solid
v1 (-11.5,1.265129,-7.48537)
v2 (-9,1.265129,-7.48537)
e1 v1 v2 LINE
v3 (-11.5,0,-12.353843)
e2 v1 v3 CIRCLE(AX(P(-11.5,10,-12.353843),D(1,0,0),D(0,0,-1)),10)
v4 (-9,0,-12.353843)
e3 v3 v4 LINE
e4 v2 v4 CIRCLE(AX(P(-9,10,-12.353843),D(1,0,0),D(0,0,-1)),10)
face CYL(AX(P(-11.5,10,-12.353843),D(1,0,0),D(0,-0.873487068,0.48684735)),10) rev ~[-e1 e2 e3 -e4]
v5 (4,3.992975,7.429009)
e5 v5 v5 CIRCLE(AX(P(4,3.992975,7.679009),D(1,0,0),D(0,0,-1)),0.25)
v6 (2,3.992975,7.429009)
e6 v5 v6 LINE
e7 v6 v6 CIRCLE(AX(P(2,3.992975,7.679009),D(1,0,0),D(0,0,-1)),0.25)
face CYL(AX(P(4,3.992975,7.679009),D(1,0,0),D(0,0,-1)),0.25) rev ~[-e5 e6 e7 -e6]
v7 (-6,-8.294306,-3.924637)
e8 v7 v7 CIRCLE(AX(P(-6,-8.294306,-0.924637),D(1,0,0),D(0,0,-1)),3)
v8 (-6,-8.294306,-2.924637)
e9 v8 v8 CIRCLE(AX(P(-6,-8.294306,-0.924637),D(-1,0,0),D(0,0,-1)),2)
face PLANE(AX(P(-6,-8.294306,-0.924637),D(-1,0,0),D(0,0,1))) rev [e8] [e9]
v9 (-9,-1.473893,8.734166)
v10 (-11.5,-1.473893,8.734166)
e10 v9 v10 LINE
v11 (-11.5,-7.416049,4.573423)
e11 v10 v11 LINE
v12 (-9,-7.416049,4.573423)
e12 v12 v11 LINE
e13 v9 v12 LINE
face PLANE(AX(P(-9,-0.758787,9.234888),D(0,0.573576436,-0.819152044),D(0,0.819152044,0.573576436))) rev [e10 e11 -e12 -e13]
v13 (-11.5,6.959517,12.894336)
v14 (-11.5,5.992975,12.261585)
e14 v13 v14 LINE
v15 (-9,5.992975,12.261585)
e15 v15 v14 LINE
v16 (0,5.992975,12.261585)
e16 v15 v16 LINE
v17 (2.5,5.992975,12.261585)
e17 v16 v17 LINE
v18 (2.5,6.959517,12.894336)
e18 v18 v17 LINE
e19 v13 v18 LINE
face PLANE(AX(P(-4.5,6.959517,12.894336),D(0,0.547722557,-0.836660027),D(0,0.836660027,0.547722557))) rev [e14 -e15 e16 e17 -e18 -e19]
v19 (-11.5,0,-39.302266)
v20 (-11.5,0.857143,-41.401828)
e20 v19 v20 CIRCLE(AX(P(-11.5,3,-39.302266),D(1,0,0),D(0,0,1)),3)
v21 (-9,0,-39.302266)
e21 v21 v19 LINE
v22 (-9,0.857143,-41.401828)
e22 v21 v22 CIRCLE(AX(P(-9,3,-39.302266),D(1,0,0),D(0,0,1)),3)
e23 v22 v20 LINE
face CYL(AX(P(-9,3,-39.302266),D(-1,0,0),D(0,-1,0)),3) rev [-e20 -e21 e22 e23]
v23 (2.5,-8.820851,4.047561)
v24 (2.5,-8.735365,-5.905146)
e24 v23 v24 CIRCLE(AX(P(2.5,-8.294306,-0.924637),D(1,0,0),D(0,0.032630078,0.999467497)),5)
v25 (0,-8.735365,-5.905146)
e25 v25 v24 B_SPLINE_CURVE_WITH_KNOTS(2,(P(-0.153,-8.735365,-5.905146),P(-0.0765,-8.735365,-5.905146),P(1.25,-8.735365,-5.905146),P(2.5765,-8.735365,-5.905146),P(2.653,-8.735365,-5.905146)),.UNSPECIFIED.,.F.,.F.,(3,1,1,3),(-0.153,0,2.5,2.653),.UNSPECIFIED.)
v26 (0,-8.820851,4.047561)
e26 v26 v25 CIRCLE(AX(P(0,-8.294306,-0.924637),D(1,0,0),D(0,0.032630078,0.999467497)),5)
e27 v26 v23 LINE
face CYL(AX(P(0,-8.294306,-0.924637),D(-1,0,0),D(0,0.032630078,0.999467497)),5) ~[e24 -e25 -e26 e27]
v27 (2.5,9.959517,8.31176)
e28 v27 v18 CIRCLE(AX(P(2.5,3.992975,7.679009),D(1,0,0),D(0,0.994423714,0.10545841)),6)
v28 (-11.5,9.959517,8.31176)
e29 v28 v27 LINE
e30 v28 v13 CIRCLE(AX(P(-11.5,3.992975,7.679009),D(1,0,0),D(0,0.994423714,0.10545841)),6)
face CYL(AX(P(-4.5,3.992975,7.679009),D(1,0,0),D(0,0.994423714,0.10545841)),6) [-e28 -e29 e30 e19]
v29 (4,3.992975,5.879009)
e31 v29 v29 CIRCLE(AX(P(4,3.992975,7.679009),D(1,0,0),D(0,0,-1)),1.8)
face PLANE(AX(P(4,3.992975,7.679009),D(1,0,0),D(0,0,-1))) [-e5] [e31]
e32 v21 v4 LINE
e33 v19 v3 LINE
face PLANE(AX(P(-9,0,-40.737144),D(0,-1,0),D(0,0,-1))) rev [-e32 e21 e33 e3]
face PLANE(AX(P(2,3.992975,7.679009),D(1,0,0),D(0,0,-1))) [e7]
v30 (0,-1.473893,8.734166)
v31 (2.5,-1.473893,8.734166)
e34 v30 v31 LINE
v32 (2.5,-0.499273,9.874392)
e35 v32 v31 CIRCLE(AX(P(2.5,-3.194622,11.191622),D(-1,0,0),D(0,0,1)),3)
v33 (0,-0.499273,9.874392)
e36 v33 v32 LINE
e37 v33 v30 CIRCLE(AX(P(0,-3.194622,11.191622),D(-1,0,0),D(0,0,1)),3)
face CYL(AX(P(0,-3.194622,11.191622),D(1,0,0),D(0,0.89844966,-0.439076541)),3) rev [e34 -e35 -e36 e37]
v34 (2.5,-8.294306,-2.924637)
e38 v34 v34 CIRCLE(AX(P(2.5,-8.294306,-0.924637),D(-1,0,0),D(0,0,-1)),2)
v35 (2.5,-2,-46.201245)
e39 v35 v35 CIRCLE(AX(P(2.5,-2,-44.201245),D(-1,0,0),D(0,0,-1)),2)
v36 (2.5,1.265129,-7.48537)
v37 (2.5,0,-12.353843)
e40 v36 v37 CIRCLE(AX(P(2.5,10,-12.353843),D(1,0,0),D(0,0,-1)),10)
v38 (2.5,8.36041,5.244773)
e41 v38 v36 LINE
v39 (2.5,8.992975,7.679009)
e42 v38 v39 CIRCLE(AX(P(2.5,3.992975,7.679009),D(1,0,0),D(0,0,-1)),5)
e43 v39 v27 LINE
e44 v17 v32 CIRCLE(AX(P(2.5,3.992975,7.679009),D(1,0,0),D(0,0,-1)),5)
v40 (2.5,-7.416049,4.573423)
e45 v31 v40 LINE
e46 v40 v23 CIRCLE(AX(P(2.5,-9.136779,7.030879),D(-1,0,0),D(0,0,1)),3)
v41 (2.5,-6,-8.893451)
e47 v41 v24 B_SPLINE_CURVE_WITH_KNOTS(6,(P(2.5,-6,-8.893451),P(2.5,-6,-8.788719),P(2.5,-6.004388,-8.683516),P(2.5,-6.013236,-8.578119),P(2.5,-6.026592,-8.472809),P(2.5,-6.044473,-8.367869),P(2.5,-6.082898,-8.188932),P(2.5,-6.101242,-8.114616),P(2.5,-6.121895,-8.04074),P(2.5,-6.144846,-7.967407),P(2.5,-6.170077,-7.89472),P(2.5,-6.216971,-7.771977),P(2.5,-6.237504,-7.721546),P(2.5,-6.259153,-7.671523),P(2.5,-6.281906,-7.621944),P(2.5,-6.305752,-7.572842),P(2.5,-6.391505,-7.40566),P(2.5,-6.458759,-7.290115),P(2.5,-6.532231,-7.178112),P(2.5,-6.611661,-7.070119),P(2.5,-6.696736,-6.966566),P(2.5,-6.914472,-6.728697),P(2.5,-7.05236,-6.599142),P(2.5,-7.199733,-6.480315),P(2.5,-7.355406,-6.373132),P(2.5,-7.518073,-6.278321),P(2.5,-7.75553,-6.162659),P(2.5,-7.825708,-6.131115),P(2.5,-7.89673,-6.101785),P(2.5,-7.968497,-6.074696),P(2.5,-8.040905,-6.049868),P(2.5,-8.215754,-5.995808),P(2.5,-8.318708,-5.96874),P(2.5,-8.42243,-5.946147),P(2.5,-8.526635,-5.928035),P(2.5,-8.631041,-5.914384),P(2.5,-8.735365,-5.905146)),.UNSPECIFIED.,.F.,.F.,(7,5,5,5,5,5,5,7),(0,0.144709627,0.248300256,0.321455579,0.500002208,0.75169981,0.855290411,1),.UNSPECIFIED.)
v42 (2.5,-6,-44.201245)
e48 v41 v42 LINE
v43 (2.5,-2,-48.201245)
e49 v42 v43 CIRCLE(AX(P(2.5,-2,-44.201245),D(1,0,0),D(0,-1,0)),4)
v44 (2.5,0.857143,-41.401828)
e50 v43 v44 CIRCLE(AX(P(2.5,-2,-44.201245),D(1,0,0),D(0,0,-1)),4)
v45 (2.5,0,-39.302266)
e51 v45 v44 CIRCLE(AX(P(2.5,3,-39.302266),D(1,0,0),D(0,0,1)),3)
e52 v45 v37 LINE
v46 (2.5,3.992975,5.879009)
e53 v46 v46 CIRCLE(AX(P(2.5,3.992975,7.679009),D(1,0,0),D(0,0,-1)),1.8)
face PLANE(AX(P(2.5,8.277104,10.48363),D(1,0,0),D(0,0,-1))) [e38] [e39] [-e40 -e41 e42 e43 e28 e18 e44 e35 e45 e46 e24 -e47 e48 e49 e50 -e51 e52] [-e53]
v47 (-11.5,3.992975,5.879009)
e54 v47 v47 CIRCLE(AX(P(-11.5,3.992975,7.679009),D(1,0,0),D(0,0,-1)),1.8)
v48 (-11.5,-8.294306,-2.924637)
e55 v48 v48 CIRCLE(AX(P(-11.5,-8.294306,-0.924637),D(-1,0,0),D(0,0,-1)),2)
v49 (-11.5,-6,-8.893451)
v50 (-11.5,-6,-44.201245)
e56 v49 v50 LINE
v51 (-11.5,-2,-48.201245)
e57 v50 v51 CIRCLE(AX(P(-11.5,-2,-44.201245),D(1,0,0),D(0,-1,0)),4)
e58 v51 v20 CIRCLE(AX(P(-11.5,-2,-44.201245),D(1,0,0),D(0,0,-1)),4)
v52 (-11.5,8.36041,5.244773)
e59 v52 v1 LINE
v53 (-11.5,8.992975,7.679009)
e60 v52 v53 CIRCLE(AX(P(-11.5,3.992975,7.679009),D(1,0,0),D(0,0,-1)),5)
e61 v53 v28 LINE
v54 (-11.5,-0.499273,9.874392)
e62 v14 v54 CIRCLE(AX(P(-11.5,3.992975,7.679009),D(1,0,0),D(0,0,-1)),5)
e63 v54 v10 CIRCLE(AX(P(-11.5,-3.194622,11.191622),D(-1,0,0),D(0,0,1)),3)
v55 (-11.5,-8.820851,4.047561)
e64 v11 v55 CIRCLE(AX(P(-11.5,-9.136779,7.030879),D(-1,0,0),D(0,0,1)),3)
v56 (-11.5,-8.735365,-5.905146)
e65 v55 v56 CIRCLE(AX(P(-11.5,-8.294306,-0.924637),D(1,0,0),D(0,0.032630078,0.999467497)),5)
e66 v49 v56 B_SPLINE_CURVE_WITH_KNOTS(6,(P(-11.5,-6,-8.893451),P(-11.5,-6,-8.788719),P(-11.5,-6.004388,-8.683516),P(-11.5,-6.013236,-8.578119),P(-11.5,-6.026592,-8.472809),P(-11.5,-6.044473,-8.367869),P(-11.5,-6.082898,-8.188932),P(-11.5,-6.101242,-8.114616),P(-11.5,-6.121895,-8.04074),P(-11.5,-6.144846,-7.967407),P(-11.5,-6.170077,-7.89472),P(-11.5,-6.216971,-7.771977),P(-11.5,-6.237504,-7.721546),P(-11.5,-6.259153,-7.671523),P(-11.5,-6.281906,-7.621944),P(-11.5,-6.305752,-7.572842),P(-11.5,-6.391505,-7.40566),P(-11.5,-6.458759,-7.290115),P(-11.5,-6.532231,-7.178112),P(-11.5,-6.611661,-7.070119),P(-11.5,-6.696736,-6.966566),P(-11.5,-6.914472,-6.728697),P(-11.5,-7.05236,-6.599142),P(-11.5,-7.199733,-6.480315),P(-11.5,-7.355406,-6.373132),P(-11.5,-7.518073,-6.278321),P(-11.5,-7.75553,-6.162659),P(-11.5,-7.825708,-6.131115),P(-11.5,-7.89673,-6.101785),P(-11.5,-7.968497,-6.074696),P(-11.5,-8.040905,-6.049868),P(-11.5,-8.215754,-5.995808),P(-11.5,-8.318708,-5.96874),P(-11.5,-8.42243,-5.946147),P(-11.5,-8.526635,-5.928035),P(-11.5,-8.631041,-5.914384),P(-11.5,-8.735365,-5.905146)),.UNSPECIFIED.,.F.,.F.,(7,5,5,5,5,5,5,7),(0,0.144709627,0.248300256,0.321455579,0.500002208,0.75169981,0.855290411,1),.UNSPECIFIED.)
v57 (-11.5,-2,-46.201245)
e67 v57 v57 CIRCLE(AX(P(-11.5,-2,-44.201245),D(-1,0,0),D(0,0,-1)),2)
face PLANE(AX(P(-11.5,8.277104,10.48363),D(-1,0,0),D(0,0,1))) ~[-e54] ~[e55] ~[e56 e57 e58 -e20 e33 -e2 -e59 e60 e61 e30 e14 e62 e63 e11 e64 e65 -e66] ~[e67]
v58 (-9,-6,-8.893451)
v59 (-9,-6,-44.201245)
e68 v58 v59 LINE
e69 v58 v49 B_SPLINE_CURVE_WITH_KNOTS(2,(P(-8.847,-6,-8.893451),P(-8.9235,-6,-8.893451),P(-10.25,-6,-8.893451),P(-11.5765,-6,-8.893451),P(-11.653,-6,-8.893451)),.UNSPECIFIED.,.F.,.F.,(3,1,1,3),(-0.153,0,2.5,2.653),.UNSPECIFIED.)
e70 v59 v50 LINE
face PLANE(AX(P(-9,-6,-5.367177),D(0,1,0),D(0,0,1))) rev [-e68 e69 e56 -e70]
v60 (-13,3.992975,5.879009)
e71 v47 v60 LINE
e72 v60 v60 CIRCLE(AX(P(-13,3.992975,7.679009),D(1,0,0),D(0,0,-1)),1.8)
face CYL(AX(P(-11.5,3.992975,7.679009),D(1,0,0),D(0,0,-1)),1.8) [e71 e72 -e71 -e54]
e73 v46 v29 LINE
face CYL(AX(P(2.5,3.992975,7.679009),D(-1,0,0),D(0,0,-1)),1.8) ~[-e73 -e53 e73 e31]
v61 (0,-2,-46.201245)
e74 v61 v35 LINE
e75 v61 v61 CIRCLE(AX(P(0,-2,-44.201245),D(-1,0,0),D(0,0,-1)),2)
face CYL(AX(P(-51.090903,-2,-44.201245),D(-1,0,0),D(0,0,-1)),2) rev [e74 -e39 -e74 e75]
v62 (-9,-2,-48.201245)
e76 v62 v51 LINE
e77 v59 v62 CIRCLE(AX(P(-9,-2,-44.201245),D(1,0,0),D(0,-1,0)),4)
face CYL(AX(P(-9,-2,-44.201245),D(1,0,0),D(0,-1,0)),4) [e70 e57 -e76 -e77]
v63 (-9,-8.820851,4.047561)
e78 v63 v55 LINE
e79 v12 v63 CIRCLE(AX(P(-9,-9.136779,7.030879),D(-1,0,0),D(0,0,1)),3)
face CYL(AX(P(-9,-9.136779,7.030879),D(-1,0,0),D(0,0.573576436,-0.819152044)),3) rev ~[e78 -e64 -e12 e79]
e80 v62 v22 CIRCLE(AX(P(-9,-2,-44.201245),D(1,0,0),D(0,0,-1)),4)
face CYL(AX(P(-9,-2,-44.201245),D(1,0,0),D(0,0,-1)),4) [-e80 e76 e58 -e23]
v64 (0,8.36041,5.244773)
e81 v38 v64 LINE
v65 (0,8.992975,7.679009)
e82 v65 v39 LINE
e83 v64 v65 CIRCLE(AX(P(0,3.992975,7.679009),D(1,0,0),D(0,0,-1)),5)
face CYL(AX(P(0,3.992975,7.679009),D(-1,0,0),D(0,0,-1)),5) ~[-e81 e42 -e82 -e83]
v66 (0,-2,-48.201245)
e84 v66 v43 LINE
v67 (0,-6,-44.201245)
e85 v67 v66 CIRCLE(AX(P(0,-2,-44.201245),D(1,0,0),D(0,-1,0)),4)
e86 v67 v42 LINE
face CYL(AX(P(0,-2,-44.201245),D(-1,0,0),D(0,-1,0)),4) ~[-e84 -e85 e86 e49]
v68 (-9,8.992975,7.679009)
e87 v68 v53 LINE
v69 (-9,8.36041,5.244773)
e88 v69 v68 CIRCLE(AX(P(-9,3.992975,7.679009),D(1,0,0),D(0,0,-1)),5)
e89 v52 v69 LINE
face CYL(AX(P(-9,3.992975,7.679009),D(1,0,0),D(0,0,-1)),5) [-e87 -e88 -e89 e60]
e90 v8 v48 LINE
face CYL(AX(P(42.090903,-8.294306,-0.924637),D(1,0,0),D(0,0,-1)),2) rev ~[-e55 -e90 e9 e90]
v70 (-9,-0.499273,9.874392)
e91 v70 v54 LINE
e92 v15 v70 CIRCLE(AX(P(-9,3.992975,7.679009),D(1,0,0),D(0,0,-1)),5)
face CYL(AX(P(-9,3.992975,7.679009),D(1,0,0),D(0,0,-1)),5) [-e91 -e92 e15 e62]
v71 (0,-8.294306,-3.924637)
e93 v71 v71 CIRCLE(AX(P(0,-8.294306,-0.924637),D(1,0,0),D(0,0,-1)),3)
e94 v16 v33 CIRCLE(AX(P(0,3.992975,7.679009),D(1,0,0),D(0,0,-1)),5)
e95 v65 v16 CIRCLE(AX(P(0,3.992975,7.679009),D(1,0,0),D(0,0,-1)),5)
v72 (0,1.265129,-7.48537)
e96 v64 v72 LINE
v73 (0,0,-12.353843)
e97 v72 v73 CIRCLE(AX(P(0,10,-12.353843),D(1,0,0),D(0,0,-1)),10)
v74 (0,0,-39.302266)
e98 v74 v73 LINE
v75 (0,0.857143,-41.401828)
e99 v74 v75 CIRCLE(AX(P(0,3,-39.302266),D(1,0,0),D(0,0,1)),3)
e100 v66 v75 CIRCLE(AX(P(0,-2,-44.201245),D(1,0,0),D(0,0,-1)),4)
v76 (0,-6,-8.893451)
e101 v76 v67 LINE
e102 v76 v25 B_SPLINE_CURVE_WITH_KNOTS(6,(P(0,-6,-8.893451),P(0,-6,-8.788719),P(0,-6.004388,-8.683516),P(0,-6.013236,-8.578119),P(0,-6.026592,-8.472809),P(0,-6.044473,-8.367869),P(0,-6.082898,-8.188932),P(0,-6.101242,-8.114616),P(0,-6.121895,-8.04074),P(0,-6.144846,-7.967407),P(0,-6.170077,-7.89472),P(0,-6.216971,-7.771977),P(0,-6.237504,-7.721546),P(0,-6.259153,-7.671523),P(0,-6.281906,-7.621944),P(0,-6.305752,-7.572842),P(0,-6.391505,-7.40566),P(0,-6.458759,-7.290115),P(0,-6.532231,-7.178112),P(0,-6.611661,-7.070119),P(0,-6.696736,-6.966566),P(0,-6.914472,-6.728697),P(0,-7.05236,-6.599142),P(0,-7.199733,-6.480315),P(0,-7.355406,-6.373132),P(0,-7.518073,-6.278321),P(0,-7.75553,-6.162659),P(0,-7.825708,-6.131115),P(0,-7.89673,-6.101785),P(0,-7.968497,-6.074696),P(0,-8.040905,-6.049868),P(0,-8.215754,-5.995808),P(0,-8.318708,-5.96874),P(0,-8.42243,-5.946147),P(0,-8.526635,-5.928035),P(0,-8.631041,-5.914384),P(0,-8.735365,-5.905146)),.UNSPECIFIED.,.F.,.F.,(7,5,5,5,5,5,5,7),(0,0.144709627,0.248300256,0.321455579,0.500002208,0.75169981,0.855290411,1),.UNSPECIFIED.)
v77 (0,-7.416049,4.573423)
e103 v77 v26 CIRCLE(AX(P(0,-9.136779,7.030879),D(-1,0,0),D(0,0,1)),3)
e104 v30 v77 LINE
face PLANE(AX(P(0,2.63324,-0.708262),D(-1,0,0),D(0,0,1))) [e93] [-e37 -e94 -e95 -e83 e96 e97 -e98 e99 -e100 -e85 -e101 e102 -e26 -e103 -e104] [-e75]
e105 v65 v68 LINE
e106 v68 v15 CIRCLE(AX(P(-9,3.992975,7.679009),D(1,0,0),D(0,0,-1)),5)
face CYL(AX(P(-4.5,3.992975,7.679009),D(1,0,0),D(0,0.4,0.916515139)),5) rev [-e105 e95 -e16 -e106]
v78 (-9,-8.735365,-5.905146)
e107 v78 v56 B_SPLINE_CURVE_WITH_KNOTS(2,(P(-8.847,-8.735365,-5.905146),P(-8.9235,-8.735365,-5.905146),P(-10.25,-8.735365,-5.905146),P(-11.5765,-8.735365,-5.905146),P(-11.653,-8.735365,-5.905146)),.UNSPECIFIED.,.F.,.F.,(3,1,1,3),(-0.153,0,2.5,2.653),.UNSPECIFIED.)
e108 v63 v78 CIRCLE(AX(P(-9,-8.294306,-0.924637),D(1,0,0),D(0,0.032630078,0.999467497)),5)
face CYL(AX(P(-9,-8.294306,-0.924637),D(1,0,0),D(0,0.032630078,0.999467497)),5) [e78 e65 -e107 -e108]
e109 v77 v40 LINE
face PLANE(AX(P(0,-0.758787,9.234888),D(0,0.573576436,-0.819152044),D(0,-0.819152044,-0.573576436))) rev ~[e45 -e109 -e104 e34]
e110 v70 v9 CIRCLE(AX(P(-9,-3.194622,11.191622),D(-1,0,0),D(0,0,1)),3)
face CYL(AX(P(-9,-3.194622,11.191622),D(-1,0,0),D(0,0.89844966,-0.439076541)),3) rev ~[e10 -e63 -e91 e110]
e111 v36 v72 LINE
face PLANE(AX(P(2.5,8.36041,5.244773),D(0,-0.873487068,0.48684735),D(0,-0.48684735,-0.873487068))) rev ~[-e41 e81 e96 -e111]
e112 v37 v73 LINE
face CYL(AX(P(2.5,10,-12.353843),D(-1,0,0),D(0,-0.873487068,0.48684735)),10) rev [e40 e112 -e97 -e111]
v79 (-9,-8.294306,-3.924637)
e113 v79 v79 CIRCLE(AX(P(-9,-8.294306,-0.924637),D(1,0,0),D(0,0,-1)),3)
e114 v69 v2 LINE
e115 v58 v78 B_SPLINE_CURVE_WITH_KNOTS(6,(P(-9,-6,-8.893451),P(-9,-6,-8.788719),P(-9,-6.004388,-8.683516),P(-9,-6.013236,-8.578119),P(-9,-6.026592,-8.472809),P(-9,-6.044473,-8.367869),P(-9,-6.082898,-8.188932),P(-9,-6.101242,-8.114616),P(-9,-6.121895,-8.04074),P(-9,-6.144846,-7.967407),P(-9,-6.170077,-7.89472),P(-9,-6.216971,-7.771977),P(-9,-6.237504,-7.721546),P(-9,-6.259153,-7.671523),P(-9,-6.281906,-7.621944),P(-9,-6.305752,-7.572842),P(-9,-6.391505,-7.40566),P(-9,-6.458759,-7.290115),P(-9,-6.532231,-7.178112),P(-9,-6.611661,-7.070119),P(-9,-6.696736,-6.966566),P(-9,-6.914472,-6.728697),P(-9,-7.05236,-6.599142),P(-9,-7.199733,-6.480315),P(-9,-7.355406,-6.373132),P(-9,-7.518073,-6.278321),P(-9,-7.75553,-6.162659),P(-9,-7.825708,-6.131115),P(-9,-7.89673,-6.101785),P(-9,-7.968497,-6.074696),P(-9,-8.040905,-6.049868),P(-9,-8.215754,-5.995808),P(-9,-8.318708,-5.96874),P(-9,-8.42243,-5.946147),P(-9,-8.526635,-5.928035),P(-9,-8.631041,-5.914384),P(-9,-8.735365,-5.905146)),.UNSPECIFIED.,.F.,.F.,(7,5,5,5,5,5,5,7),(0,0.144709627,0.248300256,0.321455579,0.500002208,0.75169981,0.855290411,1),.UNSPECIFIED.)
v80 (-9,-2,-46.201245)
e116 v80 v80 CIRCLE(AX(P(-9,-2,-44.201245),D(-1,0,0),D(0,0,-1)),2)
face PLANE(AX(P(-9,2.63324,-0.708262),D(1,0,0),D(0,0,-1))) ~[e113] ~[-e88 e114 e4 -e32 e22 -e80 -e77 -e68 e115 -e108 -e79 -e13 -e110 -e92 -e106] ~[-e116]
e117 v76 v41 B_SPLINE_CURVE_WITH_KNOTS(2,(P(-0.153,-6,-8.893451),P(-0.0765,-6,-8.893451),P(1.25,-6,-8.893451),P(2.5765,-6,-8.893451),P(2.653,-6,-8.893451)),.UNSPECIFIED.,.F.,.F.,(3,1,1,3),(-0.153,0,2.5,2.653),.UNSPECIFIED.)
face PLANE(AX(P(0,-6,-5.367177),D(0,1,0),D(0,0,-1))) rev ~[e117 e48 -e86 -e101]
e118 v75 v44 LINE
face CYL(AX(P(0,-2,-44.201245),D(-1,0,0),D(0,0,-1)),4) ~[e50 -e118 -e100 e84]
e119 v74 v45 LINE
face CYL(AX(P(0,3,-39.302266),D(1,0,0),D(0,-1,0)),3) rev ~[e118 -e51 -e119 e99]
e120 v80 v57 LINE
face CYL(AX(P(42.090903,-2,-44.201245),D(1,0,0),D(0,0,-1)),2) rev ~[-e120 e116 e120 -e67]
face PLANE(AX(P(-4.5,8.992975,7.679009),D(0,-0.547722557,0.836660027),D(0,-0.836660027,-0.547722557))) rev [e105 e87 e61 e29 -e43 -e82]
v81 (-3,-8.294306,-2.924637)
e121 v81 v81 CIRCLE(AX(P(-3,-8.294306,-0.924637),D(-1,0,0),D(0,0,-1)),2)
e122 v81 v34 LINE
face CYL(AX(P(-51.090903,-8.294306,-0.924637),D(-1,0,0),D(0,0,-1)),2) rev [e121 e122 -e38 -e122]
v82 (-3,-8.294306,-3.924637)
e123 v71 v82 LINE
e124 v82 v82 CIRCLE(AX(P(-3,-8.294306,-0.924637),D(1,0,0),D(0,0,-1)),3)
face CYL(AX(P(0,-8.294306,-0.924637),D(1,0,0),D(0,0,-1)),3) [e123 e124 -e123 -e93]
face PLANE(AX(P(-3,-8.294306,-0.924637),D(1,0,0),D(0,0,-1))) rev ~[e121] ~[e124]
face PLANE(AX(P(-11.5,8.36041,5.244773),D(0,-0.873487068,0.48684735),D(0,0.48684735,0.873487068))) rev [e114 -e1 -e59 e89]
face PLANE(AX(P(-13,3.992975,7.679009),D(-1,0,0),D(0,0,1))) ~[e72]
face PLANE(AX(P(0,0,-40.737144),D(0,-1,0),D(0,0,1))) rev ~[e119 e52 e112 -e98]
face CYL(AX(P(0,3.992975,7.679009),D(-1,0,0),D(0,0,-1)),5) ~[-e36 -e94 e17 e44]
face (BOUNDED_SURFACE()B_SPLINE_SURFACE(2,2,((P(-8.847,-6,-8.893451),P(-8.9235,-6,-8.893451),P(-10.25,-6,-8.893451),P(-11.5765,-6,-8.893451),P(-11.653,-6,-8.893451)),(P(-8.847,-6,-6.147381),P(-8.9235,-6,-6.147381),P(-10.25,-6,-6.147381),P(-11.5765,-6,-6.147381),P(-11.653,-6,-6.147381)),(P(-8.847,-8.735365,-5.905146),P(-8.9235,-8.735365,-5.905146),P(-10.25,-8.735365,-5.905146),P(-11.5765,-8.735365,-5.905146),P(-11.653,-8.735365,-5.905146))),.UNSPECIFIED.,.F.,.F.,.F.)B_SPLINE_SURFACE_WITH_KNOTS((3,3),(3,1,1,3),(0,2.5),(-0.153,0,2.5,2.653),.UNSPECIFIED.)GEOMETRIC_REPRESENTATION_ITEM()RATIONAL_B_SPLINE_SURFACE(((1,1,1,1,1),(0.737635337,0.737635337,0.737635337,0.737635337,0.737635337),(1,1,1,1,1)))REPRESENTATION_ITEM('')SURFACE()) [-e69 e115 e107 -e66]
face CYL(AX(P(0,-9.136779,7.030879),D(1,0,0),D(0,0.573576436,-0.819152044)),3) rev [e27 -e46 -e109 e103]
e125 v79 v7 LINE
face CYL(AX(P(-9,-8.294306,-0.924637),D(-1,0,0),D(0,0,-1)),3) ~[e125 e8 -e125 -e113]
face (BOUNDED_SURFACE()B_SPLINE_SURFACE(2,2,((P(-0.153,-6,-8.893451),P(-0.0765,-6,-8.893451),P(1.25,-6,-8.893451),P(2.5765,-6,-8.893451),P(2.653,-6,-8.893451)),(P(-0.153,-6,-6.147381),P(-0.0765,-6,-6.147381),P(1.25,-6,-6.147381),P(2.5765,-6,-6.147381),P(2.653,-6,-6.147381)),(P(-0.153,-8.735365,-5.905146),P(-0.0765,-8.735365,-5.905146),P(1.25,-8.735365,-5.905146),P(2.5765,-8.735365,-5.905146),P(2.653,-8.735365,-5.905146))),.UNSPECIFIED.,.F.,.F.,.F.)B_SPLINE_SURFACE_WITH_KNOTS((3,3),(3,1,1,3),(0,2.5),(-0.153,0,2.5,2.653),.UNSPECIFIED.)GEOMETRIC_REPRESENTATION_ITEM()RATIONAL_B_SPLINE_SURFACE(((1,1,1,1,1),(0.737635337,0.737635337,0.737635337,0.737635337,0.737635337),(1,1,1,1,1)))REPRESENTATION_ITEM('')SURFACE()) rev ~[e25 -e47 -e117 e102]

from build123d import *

# Parameters (mm, degrees)
EXTRUDE_1_DEPTH          = 2.5
SKETCH_1_4_R             = 3
EXTRUDE_2_DEPTH          = 3
CUT_EXTRUDE_1_DEPTH      = 51.090903435
CUT_EXTRUDE_1_DEPTH_BACK = 51.090903435
SKETCH_1_3_R             = 2
FILLET_1_R               = 3
EXTRUDE_START            = -2.5
SKETCH_2_R               = 2
EXTRUDE_3_DEPTH          = 2.5
SKETCH_2_3_R             = 1.8
EXTRUDE_4_DEPTH          = 1.5
EXTRUDE_6_DEPTH          = 2.5
EXTRUDE_START_2          = -7
EXTRUDE_5_DEPTH          = 7
FILLET_3_R               = 10
SKETCH_5_R               = 0.25
CUT_EXTRUDE_2_DEPTH      = 2


with BuildPart() as part:
    # 草图1 → 凸台-拉伸1 (new body)
    with BuildSketch(Plane(origin=(0, 0, 0), x_dir=(0, 0, -1), z_dir=(1, 0, 0))):
        with BuildLine():
            Line((40.737143614, 0), (0, 0))
            Line((0, 0), (2.48051592, -3.542543867))
            ThreePointArc((2.48051592, -3.542543867), (4.165783411, -4.487079684), (5.367176995, -6))
            Line((5.367176995, -6), (44.201245229, -6))
            ThreePointArc((44.201245229, -6), (40.737143614, -4), (40.737143614, 0))
        make_face()
        with BuildLine():
            Line((2.48051592, -3.542543867), (0, 0))
            Line((0, 0), (-2.681672007, 3.829824531))
            ThreePointArc((-2.681672007, 3.829824531), (-4.811127311, -0.102785303), (-9.234888361, -0.758786959))
            Line((-9.234888361, -0.758786959), (-4.072700434, -8.131155358))
            ThreePointArc((-4.072700434, -8.131155358), (-1.94324513, -4.198545524), (2.48051592, -3.542543867))
        make_face()
        with BuildLine():
            ThreePointArc((48.201245229, -2), (45.23652141, 1.863703305), (40.737143614, 0))
            Line((40.737143614, 0), (44.201245229, 0))
            ThreePointArc((44.201245229, 0), (45.615458792, -0.585786438), (46.201245229, -2))
            ThreePointArc((46.201245229, -2), (45.615458792, -3.414213562), (44.201245229, -4))
            Line((44.201245229, -4), (44.201245229, -6))
            ThreePointArc((44.201245229, -6), (47.029672354, -4.828427125), (48.201245229, -2))
        make_face()
        with BuildLine():
            Line((44.201245229, 0), (40.737143614, 0))
            ThreePointArc((40.737143614, 0), (40.737143614, -4), (44.201245229, -6))
            Line((44.201245229, -6), (44.201245229, -4))
            ThreePointArc((44.201245229, -4), (42.201245229, -2), (44.201245229, 0))
        make_face()
        with BuildLine():
            ThreePointArc((5.367176995, -6), (4.165783411, -4.487079684), (2.48051592, -3.542543867))
            Line((2.48051592, -3.542543867), (4.201245229, -6))
            Line((4.201245229, -6), (5.367176995, -6))
        make_face()
        with BuildLine():
            Line((4.201245229, -6), (2.48051592, -3.542543867))
            ThreePointArc((2.48051592, -3.542543867), (-1.94324513, -4.198545524), (-4.072700434, -8.131155358))
            Line((-4.072700434, -8.131155358), (-2.351971125, -10.588611491))
            Line((-2.351971125, -10.588611491), (-1.532819081, -10.015035054))
            ThreePointArc((-1.532819081, -10.015035054), (-0.796092257, -5.836849613), (3.382093185, -6.573576436))
            Line((3.382093185, -6.573576436), (4.201245229, -6))
        make_face()
        with BuildLine():
            ThreePointArc((-9.234888361, -0.758786959), (-4.811127311, -0.102785303), (-2.681672007, 3.829824531))
            Line((-2.681672007, 3.829824531), (-4.402401316, 6.287280664))
            Line((-4.402401316, 6.287280664), (-6.040705405, 5.140127792))
            ThreePointArc((-6.040705405, 5.140127792), (-5.771575592, 4.594386518), (-5.679009493, 3.992974919))
            ThreePointArc((-5.679009493, 3.992974919), (-7.077597894, 2.085541017), (-9.317313582, 2.845822046))
            Line((-9.317313582, 2.845822046), (-10.95561767, 1.698669174))
            Line((-10.95561767, 1.698669174), (-9.234888361, -0.758786959))
        make_face()
        with BuildLine():
            Line((-4.402401316, 6.287280664), (-2.681672007, 3.829824531))
            ThreePointArc((-2.681672007, 3.829824531), (-2.679675166, 3.911388863), (-2.679009493, 3.992974919))
            ThreePointArc((-2.679009493, 3.992974919), (-10.613341245, 8.041394014), (-9.234888361, -0.758786959))
            Line((-9.234888361, -0.758786959), (-10.95561767, 1.698669174))
            Line((-10.95561767, 1.698669174), (-9.317313582, 2.845822046))
            ThreePointArc((-9.317313582, 2.845822046), (-8.826162366, 5.631279008), (-6.040705405, 5.140127792))
            Line((-6.040705405, 5.140127792), (-4.402401316, 6.287280664))
        make_face()
        with BuildLine():
            ThreePointArc((46.201245229, -2), (45.615458792, -0.585786438), (44.201245229, 0))
            Line((44.201245229, 0), (44.201245229, -4))
            ThreePointArc((44.201245229, -4), (45.615458792, -3.414213562), (46.201245229, -2))
        make_face()
        with BuildLine():
            Line((44.201245229, -4), (44.201245229, 0))
            ThreePointArc((44.201245229, 0), (42.201245229, -2), (44.201245229, -4))
        make_face()
        with BuildLine():
            Line((5.367176995, -6), (4.201245229, -6))
            Line((4.201245229, -6), (3.382093185, -6.573576436))
            ThreePointArc((3.382093185, -6.573576436), (3.785787904, -7.392188347), (3.924637052, -8.294305745))
            ThreePointArc((3.924637052, -8.294305745), (1.826754451, -11.155456598), (-1.532819081, -10.015035054))
            Line((-1.532819081, -10.015035054), (-2.351971125, -10.588611491))
            Line((-2.351971125, -10.588611491), (-4.072700434, -8.131155358))
            ThreePointArc((-4.072700434, -8.131155358), (0.843050996, -13.293640073), (5.924637052, -8.294305745))
            ThreePointArc((5.924637052, -8.294305745), (5.783273678, -7.113776143), (5.367176995, -6))
        make_face()
        with BuildLine():
            ThreePointArc((3.924637052, -8.294305745), (3.785787904, -7.392188347), (3.382093185, -6.573576436))
            Line((3.382093185, -6.573576436), (2.562941141, -7.147152873))
            ThreePointArc((2.562941141, -7.147152873), (2.832070954, -7.692894146), (2.924637052, -8.294305745))
            ThreePointArc((2.924637052, -8.294305745), (1.526048651, -10.201739647), (-0.713667036, -9.441458618))
            Line((-0.713667036, -9.441458618), (-1.532819081, -10.015035054))
            ThreePointArc((-1.532819081, -10.015035054), (1.826754451, -11.155456598), (3.924637052, -8.294305745))
        make_face()
        with BuildLine():
            Line((2.562941141, -7.147152873), (3.382093185, -6.573576436))
            ThreePointArc((3.382093185, -6.573576436), (-0.796092257, -5.836849613), (-1.532819081, -10.015035054))
            Line((-1.532819081, -10.015035054), (-0.713667036, -9.441458618))
            ThreePointArc((-0.713667036, -9.441458618), (-0.222515821, -6.656001657), (2.562941141, -7.147152873))
        make_face()
        with BuildLine():
            ThreePointArc((-5.679009493, 3.992974919), (-5.771575592, 4.594386518), (-6.040705405, 5.140127792))
            Line((-6.040705405, 5.140127792), (-9.317313582, 2.845822046))
            ThreePointArc((-9.317313582, 2.845822046), (-7.077597894, 2.085541017), (-5.679009493, 3.992974919))
        make_face()
        with BuildLine():
            Line((-9.317313582, 2.845822046), (-6.040705405, 5.140127792))
            ThreePointArc((-6.040705405, 5.140127792), (-8.826162366, 5.631279008), (-9.317313582, 2.845822046))
        make_face()
        with BuildLine():
            ThreePointArc((2.924637052, -8.294305745), (2.832070954, -7.692894146), (2.562941141, -7.147152873))
            Line((2.562941141, -7.147152873), (-0.713667036, -9.441458618))
            ThreePointArc((-0.713667036, -9.441458618), (1.526048651, -10.201739647), (2.924637052, -8.294305745))
        make_face()
        with BuildLine():
            Line((-0.713667036, -9.441458618), (2.562941141, -7.147152873))
            ThreePointArc((2.562941141, -7.147152873), (-0.222515821, -6.656001657), (-0.713667036, -9.441458618))
        make_face()
    extrude(amount=EXTRUDE_1_DEPTH)

    # 草图1<4> → 凸台-拉伸2 (add)
    with BuildSketch(Plane(origin=(0, 0, 0), x_dir=(0, 0, -1), z_dir=(1, 0, 0))):
        with Locations((0.924637052, -8.294305745)):
            Circle(SKETCH_1_4_R)
    extrude(amount=-EXTRUDE_2_DEPTH)

    # 草图1<3> → 切除-拉伸1 (cut, two sides: drawn at the far end of the back side and taken through both)
    with BuildSketch(Plane(origin=(0, 0, 0), x_dir=(0, 0, -1), z_dir=(1, 0, 0)).offset(-CUT_EXTRUDE_1_DEPTH_BACK)):
        with Locations((-7.679009493, 3.992974919)):
            Circle(SKETCH_1_3_R)
        with Locations((44.201245229, -2)):
            Circle(SKETCH_1_3_R)
        with Locations((0.924637052, -8.294305745)):
            Circle(SKETCH_1_3_R)
    extrude(amount=CUT_EXTRUDE_1_DEPTH + CUT_EXTRUDE_1_DEPTH_BACK, mode=Mode.SUBTRACT)

    # 圆角1
    fillet_1_edges = [part.edges().sort_by_distance(p)[0] for p in [
        (1.25, -6, -5.367176995),
        (1.25, 0, 0),
        (1.25, 0, -40.737143614),
        (1.25, -0.758786959, 9.234888361),
        (1.25, -8.131155358, 4.072700434),
    ]]
    fillet(fillet_1_edges, radius=FILLET_1_R)

    # 草图2 → 凸台-拉伸3 (add)
    with BuildSketch(Plane(origin=(2.5, 0, 0), x_dir=(0, 0, -1), z_dir=(1, 0, 0)).offset(EXTRUDE_START)):
        with Locations((-7.679009493, 3.992974919)):
            Circle(SKETCH_2_R)
    extrude(amount=EXTRUDE_3_DEPTH)

    # 草图2<3> → 凸台-拉伸4 (add)
    with BuildSketch(Plane(origin=(2.5, 0, 0), x_dir=(0, 0, -1), z_dir=(1, 0, 0))):
        with Locations((-7.679009493, 3.992974919)):
            Circle(SKETCH_2_3_R)
    extrude(amount=EXTRUDE_4_DEPTH)

    # 草图4 → 凸台-拉伸6 (add)
    with BuildSketch(Plane(origin=(2.5, 0, 0), x_dir=(0, 0, -1), z_dir=(1, 0, 0))):
        Polygon((-5.244772745, 8.360410259), (9.755227255, 0), (-5.244772745, 0), align=None)
    extrude(amount=-EXTRUDE_6_DEPTH)

    # 草图3 → 凸台-拉伸5 (add)
    with BuildSketch(Plane(origin=(2.5, 0, 0), x_dir=(0, 0, -1), z_dir=(1, 0, 0)).offset(EXTRUDE_START_2)):
        with BuildLine():
            Line((-12.894335644, 6.959517206), (-12.261585188, 5.992974919))
            ThreePointArc((-12.261585188, 5.992974919), (-10.417622281, 8.176275052), (-7.679009493, 8.992974919))
            Line((-7.679009493, 8.992974919), (-8.311759949, 9.959517206))
            ThreePointArc((-8.311759949, 9.959517206), (-10.965344838, 9.012935078), (-12.894335644, 6.959517206))
        make_face()
    extrude(amount=EXTRUDE_5_DEPTH)

    # 圆角3
    fillet_3_edges = [part.edges().sort_by_distance(p)[0] for p in [
        (1.25, 0, -9.755227255),
    ]]
    fillet(fillet_3_edges, radius=FILLET_3_R)

    # 镜向1: part across plane


with BuildPart() as part_1:
    add(part.part)
    add(part.part.mirror(Plane.ZY.offset(4.5)))

    # 草图5 → 切除-拉伸2 (cut)
    with BuildSketch(Plane(origin=(4, 0, 0), x_dir=(0, 0, -1), z_dir=(1, 0, 0))):
        with Locations((-7.679009493, 3.992974919)):
            Circle(SKETCH_5_R)
    extrude(amount=-CUT_EXTRUDE_2_DEPTH, mode=Mode.SUBTRACT)


solid = part_1.part
